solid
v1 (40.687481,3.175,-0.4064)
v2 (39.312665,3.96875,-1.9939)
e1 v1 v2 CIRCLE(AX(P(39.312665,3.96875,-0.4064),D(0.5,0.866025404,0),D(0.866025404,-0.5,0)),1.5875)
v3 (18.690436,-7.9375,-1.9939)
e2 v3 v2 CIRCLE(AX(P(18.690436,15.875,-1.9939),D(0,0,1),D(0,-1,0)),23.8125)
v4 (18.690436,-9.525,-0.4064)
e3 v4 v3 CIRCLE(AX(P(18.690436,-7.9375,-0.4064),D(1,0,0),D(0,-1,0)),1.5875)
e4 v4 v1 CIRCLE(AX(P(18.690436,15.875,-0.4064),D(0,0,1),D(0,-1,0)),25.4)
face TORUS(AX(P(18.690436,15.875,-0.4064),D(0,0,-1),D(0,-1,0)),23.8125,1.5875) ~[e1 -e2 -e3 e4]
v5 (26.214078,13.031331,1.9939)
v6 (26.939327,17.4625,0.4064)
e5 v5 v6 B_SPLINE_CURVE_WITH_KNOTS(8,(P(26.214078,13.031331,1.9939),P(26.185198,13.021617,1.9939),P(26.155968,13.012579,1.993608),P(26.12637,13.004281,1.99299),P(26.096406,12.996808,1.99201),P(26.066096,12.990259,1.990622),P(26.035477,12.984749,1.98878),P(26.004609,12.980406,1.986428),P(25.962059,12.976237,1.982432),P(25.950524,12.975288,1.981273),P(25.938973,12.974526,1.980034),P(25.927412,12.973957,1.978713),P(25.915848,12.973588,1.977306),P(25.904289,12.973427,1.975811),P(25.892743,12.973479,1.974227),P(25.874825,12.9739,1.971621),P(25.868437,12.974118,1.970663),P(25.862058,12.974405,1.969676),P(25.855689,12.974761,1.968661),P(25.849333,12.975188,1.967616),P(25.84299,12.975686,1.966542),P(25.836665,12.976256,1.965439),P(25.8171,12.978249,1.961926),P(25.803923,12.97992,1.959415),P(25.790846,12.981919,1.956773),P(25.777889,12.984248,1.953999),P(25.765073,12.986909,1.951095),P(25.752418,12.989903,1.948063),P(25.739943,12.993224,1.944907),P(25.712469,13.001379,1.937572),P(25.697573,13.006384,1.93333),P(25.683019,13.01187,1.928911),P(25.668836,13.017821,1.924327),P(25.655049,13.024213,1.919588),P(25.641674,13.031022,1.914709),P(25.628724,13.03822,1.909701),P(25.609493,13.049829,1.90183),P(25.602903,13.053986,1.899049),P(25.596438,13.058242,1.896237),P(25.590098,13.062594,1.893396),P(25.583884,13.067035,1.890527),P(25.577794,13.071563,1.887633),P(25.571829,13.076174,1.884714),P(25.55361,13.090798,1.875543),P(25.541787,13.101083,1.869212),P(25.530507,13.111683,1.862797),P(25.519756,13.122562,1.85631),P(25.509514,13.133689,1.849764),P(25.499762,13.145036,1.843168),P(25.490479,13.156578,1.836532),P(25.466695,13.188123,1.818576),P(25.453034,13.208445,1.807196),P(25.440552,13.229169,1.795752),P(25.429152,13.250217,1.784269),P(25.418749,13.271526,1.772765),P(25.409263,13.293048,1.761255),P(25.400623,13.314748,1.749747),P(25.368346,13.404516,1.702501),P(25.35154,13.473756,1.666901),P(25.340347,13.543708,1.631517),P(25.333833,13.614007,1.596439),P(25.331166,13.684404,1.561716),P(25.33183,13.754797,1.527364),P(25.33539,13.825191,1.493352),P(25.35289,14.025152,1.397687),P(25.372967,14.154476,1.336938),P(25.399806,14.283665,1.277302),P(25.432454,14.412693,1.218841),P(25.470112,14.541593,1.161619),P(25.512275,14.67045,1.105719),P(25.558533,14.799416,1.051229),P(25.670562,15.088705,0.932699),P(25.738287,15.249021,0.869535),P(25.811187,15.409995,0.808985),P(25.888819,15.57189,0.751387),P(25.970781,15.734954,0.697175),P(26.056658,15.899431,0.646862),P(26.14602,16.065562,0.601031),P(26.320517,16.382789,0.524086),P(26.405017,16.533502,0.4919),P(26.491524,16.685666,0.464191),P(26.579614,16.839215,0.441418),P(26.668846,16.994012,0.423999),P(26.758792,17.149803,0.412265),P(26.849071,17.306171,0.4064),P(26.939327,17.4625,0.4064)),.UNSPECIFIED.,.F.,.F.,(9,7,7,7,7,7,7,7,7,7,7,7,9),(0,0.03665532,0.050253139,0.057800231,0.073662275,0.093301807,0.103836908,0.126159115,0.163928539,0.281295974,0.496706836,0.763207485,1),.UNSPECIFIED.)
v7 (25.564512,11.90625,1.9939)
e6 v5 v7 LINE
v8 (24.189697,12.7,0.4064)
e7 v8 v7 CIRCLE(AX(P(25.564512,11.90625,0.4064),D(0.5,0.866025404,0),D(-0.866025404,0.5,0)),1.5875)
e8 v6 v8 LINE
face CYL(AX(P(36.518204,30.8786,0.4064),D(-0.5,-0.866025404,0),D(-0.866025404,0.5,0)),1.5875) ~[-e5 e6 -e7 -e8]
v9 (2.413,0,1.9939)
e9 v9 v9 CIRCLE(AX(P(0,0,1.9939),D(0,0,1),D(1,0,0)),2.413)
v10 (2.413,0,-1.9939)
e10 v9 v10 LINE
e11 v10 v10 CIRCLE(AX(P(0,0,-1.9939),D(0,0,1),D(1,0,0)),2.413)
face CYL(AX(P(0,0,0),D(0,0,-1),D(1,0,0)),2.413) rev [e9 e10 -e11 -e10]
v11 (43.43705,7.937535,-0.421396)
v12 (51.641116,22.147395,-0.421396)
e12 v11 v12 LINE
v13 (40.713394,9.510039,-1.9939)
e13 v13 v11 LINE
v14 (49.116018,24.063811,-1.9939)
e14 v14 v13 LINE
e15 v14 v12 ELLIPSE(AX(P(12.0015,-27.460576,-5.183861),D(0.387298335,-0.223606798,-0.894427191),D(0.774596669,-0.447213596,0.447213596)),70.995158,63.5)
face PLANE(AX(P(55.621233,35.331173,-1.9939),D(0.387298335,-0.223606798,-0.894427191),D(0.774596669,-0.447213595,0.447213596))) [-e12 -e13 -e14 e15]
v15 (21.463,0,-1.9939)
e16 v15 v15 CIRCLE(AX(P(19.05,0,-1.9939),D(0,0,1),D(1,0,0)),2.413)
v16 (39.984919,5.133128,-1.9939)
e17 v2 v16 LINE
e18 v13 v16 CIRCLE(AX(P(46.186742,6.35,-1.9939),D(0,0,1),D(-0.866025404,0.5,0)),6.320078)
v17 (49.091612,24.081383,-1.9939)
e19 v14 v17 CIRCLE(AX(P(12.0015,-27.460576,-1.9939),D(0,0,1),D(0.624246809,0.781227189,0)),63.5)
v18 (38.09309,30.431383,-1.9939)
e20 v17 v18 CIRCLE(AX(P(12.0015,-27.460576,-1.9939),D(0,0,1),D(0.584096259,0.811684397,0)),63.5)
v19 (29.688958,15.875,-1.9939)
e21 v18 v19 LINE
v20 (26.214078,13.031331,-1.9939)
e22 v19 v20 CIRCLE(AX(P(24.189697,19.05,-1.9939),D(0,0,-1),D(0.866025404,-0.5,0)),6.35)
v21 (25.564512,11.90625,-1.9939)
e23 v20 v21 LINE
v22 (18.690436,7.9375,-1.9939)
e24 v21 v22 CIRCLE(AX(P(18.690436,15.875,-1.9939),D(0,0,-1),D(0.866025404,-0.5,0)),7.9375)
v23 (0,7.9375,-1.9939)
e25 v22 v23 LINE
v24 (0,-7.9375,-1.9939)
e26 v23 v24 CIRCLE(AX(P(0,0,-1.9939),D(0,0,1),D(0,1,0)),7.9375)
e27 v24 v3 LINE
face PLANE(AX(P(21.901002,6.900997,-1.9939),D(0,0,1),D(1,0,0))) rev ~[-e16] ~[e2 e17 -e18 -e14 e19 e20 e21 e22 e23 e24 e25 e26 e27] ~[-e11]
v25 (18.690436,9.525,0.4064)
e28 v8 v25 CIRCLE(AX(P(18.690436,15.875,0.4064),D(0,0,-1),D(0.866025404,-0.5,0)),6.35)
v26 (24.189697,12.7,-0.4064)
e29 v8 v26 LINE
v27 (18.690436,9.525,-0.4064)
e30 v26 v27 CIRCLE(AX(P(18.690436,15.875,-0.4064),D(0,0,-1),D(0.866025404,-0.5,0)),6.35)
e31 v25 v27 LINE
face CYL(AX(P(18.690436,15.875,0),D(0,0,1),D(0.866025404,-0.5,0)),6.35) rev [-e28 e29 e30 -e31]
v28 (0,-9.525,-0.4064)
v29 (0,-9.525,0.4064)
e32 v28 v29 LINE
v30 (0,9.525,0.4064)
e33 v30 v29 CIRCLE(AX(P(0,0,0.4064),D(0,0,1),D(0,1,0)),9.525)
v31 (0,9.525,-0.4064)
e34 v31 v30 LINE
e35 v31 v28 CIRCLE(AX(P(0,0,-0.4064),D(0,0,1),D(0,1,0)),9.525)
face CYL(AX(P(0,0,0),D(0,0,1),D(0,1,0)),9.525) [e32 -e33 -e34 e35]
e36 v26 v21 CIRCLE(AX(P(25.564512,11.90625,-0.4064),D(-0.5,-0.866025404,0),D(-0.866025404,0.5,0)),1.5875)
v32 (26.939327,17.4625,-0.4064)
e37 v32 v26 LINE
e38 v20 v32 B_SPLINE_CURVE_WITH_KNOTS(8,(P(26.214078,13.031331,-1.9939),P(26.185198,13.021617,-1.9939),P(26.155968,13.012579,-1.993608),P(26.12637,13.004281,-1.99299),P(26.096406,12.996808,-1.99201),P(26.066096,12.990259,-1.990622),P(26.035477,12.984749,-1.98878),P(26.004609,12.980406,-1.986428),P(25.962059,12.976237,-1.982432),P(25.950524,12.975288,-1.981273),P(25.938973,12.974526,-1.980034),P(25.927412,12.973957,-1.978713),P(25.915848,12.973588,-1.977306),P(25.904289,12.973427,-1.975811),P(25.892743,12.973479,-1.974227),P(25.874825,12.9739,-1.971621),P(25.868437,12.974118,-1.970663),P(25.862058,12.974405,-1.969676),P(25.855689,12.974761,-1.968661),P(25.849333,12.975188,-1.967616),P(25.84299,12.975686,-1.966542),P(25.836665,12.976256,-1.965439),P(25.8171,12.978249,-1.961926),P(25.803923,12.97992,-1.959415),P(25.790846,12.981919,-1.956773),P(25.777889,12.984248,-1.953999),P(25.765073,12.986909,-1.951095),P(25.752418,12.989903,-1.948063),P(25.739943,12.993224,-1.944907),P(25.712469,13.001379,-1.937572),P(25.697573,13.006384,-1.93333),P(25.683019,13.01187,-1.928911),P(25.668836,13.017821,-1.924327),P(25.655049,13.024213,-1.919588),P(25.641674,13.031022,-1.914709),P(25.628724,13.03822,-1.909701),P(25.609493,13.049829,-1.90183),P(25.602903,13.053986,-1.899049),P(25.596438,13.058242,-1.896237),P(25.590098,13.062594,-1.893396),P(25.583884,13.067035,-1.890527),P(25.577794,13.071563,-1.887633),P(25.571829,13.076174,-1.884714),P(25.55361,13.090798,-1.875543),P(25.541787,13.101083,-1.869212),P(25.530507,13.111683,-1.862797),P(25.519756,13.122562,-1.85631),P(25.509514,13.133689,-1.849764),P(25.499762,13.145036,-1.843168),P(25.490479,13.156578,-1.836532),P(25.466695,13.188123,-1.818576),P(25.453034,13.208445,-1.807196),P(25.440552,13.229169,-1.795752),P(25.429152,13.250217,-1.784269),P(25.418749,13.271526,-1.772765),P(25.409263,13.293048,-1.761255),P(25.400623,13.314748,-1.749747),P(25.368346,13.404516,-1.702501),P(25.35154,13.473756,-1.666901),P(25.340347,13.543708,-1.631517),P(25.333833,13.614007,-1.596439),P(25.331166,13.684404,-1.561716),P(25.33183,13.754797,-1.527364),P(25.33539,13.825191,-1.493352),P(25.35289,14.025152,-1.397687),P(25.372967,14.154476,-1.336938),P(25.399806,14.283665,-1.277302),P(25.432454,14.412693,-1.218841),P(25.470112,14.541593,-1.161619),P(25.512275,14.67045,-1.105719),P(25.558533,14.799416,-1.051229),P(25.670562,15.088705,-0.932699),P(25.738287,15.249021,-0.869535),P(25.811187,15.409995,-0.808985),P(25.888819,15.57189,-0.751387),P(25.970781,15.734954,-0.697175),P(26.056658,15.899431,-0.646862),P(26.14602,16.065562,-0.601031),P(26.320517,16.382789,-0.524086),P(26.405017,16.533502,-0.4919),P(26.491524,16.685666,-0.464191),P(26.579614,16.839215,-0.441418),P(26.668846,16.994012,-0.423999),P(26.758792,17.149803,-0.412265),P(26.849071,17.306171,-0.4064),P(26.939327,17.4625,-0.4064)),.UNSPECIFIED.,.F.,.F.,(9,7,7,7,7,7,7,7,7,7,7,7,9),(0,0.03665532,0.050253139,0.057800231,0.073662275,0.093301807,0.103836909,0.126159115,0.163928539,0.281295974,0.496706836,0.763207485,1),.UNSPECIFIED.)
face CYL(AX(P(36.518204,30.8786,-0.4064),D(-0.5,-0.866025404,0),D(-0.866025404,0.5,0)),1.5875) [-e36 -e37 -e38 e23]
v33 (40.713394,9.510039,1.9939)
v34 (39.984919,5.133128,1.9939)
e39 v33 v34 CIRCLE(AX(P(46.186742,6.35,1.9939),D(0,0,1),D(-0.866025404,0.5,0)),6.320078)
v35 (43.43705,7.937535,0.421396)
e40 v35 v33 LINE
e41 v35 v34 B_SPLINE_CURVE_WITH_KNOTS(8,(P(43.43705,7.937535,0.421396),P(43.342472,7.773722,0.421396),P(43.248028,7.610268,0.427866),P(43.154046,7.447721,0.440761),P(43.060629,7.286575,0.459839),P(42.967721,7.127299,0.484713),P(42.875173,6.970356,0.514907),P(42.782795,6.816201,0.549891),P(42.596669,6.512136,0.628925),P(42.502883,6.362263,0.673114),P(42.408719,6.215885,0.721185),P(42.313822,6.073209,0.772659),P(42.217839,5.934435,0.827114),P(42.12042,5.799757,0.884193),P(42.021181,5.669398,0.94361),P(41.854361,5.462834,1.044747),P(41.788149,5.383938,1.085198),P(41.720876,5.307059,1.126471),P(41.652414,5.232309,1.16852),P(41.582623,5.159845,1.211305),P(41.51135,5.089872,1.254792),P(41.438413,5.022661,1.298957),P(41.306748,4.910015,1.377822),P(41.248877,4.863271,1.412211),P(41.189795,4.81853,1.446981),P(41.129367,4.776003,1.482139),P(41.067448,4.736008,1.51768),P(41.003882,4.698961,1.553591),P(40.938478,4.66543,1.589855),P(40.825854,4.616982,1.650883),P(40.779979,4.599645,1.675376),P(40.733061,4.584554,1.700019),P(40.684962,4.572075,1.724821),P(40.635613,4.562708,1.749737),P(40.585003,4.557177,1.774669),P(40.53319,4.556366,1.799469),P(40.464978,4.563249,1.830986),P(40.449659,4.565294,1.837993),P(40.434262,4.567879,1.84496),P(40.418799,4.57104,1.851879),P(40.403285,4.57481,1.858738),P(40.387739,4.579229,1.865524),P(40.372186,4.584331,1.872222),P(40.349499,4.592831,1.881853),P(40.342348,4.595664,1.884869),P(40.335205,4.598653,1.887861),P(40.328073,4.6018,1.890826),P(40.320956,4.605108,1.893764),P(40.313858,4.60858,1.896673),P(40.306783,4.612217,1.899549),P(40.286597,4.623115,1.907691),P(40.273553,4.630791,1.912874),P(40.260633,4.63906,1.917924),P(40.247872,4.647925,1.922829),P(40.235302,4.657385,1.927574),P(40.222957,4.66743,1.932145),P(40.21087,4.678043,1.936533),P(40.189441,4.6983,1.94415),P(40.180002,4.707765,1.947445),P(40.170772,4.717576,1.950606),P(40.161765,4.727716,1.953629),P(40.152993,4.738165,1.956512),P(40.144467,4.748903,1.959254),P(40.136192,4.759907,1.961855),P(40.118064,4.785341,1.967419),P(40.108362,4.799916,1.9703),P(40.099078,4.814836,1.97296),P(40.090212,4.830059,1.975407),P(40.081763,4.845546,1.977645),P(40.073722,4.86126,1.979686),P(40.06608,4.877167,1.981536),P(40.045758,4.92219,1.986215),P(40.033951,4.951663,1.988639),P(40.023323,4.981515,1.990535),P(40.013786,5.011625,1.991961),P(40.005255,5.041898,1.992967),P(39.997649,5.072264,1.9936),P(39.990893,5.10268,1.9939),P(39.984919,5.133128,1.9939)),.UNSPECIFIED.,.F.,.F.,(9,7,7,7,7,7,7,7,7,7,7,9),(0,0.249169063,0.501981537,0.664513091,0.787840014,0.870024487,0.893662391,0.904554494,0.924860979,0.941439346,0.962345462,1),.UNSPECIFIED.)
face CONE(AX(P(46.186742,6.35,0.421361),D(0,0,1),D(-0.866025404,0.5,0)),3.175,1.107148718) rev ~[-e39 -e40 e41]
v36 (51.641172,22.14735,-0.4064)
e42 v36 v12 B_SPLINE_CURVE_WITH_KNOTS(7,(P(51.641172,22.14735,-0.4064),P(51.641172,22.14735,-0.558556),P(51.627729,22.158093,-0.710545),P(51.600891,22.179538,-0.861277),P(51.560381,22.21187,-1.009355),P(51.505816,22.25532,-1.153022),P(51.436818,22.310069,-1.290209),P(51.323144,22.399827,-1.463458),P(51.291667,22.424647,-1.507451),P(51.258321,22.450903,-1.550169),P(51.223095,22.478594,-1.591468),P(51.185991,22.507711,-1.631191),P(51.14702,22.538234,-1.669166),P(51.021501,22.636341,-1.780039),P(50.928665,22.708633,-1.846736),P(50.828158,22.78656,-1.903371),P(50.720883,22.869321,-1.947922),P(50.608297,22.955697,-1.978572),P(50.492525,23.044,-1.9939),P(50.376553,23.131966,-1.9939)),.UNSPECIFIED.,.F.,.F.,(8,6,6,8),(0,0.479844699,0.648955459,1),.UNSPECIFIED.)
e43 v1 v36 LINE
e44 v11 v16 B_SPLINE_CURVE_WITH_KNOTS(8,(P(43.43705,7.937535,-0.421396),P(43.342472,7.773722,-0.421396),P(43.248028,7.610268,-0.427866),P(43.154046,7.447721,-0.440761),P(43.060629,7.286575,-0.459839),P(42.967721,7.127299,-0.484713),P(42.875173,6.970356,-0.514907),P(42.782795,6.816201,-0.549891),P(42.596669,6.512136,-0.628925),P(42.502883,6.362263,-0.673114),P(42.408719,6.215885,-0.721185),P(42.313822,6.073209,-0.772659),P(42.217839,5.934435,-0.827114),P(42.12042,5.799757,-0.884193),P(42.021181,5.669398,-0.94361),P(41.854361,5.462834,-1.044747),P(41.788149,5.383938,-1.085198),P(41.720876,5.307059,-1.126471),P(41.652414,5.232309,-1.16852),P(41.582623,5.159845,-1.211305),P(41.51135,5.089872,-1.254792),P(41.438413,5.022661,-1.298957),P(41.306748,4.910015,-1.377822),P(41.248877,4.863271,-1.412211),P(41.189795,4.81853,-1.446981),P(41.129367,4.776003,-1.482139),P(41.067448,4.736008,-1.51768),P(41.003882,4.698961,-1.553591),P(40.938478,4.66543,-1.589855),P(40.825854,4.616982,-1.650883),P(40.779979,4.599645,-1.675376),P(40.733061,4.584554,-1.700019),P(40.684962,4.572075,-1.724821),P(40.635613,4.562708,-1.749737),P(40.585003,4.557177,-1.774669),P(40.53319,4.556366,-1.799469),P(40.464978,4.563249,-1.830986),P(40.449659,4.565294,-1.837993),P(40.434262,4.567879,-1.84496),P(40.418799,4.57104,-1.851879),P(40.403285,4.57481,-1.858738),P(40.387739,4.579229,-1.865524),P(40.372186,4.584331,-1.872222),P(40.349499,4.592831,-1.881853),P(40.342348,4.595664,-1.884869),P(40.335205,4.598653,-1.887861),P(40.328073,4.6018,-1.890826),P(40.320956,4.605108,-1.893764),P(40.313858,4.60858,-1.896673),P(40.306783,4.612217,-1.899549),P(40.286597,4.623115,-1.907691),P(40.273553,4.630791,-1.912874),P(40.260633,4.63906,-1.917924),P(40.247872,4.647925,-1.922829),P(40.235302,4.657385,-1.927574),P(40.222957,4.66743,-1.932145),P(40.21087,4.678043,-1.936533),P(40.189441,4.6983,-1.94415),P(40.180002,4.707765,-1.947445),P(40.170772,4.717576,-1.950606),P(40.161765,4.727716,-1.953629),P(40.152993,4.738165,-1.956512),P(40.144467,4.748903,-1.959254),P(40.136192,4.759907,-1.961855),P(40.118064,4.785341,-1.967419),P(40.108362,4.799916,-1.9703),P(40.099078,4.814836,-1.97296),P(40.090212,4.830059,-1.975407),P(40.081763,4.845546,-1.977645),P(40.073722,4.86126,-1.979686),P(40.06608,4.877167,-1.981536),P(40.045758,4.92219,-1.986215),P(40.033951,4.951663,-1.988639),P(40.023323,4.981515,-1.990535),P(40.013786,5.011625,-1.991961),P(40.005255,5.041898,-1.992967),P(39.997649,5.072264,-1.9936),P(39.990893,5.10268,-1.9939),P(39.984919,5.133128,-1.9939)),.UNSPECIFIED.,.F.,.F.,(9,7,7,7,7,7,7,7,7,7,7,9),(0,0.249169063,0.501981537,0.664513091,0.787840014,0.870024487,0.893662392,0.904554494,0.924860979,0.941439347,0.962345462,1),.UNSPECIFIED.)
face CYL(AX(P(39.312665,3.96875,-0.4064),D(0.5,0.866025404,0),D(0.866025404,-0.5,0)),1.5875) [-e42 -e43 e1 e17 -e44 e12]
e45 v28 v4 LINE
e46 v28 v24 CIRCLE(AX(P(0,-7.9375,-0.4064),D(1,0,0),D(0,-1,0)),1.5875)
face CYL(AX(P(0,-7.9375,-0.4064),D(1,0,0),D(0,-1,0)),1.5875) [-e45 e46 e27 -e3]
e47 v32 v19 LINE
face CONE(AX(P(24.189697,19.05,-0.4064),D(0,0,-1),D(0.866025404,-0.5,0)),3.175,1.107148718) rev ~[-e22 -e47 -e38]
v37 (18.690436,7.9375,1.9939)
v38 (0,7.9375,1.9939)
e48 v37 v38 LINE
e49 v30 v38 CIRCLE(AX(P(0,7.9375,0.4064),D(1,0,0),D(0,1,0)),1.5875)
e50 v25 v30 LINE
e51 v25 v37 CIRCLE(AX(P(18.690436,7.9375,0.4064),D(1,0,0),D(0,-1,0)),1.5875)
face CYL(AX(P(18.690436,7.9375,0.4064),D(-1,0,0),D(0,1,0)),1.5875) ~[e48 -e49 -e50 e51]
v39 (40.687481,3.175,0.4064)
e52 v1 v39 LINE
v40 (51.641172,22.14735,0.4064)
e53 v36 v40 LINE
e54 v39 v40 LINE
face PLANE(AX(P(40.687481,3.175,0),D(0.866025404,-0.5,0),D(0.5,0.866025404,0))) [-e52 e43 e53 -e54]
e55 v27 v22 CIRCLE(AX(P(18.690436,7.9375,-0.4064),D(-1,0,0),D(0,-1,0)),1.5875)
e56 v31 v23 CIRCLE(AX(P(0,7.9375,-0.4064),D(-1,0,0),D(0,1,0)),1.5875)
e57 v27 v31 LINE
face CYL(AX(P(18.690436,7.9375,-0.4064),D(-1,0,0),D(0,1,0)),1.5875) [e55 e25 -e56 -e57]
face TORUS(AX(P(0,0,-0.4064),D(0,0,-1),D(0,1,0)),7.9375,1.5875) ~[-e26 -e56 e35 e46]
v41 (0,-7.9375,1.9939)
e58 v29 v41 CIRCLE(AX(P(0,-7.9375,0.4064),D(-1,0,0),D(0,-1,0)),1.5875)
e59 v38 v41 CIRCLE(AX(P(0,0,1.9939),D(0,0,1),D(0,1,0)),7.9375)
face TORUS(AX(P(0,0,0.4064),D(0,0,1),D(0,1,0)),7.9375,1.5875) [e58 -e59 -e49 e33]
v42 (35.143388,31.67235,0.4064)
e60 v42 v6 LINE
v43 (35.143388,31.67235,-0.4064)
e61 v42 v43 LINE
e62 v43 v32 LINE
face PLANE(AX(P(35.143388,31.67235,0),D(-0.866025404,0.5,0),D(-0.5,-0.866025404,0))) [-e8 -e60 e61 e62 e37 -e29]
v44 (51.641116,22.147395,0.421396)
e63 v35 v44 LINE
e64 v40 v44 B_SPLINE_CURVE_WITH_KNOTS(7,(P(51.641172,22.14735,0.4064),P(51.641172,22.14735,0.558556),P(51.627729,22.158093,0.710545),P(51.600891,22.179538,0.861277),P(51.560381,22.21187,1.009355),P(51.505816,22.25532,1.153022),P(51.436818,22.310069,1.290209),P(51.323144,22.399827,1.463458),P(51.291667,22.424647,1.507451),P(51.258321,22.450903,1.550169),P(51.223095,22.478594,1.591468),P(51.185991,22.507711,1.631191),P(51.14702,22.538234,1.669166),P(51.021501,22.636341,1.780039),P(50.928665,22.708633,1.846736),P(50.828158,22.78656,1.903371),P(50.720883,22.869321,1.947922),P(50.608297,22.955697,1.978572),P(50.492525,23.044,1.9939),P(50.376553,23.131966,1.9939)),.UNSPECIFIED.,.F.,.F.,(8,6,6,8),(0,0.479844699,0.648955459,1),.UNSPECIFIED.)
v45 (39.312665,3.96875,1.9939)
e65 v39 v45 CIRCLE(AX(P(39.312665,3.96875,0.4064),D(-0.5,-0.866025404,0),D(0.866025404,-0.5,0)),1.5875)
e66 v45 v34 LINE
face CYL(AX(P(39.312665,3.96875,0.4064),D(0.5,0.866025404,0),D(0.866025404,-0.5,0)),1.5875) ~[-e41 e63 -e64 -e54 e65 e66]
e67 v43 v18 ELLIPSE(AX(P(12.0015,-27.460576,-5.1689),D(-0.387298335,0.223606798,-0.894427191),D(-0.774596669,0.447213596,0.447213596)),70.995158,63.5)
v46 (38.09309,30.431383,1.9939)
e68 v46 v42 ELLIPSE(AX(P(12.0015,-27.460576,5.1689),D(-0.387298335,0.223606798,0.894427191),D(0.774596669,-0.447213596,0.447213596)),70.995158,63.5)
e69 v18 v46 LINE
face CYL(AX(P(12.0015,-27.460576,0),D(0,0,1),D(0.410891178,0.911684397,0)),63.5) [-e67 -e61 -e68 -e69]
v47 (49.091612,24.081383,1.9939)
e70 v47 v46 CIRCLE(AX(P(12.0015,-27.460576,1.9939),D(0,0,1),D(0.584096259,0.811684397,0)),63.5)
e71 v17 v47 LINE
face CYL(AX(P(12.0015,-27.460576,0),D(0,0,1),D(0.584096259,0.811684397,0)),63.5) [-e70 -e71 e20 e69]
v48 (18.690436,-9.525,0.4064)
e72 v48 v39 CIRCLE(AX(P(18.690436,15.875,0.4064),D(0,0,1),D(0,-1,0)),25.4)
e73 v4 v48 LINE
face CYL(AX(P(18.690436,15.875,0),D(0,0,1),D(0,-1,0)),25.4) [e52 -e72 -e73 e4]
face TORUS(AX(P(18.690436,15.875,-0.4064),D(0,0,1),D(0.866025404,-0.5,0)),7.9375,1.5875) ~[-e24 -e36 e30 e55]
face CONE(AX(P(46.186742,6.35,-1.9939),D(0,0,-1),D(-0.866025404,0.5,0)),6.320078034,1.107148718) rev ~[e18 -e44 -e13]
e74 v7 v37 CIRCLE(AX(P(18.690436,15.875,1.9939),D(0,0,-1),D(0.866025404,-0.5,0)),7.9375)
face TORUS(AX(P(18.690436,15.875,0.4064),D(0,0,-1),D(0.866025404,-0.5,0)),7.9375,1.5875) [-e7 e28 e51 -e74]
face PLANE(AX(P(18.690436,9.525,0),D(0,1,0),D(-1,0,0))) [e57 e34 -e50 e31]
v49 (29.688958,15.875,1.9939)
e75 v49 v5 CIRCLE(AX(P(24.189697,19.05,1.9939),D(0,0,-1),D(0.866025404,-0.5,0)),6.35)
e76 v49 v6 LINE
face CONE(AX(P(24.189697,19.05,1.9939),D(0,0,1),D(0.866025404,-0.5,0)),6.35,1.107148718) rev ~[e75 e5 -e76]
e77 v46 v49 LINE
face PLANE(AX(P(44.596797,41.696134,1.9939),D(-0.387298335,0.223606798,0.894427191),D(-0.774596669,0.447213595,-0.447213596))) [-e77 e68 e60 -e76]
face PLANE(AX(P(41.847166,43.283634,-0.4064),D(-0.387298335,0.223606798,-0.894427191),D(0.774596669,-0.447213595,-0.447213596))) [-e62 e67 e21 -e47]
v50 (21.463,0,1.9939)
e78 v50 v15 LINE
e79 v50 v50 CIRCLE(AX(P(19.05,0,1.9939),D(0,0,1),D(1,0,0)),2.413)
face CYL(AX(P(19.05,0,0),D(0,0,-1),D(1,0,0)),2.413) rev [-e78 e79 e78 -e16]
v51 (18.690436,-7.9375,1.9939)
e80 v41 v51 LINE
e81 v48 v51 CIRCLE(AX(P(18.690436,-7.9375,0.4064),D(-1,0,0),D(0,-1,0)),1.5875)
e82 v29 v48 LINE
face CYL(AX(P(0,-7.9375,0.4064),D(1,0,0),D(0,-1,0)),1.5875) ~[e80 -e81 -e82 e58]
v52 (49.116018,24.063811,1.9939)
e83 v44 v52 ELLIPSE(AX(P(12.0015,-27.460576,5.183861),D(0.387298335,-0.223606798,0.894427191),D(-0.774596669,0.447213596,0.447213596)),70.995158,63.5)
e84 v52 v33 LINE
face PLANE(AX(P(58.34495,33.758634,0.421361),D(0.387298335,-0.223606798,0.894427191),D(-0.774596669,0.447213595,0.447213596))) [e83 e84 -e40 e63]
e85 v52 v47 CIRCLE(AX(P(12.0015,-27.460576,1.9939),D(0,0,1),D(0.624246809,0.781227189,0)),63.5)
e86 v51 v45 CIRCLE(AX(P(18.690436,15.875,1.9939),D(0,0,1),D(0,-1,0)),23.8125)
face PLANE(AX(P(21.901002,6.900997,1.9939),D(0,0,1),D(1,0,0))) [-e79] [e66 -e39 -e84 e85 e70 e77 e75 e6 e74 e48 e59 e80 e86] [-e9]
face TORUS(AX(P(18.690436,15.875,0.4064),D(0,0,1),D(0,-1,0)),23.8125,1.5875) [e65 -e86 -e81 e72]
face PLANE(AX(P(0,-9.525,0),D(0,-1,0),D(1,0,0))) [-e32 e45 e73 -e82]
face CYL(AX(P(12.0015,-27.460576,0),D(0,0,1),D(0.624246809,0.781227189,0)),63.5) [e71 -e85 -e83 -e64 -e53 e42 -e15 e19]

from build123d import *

# Parameters (mm, degrees)
F0_R     = 2.413
F1_DEPTH = 1.9939
F4_R     = 1.5875


with BuildPart() as f1:
    # F0 (on Top) → F1 (new body, symmetric)
    with BuildSketch(Plane.XY):
        with BuildLine():
            Line((18.6904355234, 9.525), (0, 9.525))
            ThreePointArc((0, 9.525), (-9.525, 0), (0, -9.525))
            Line((0, -9.525), (18.6904355234, -9.525))
            ThreePointArc((18.6904355234, -9.525), (31.3904355234, -6.1220452561), (40.6874807795, 3.175))
            ThreePointArc((40.6874807795, 3.175), (39.8367420935, 6.35), (40.6874807795, 9.525))
            Line((40.6874807795, 9.525), (49.0916124422, 24.0813830332))
            ThreePointArc((49.0916124422, 24.0813830332), (43.7515, 27.5320369653), (38.0930898141, 30.4313830332))
            Line((38.0930898141, 30.4313830332), (29.6889581514, 15.875))
            ThreePointArc((29.6889581514, 15.875), (27.3646968374, 13.550738686), (24.1896968374, 12.7))
            ThreePointArc((24.1896968374, 12.7), (21.8654355234, 10.375738686), (18.6904355234, 9.525))
        make_face()
        Circle(F0_R, mode=Mode.SUBTRACT)
        with Locations((19.05, 0)):
            Circle(F0_R, mode=Mode.SUBTRACT)
        with BuildLine():
            Line((35.143388423, 31.6723503567), (24.1896968374, 12.7))
            ThreePointArc((24.1896968374, 12.7), (27.3646968374, 13.550738686), (29.6889581514, 15.875))
            Line((29.6889581514, 15.875), (38.0930898141, 30.4313830332))
            ThreePointArc((38.0930898141, 30.4313830332), (36.6260577586, 31.0704511113), (35.143388423, 31.6723503567))
        make_face()
        with BuildLine():
            ThreePointArc((40.6874807795, 9.525), (39.8367420935, 6.35), (40.6874807795, 3.175))
            Line((40.6874807795, 3.175), (51.6411723651, 22.1473503567))
            ThreePointArc((51.6411723651, 22.1473503567), (50.3785776603, 23.130430044), (49.0916124422, 24.0813830332))
            Line((49.0916124422, 24.0813830332), (40.6874807795, 9.525))
        make_face()
    extrude(amount=F1_DEPTH, both=True)

    # F4
    f4_edges = [f1.edges().sort_by_distance(p)[0] for p in [
        (31.390436, -6.122045, 1.9939),
        (31.390436, -6.122045, -1.9939),
    ]]
    fillet(f4_edges, radius=F4_R)

    # F5: sweep along a path in F0
    with BuildLine(Plane.XY) as f5_path:
        Line((44.5967970303, 41.6961343692), (29.6889581514, 15.875))
        ThreePointArc((29.6889581514, 15.875), (27.3646968374, 13.550738686), (24.1896968374, 12.7))
    # F3 (on line) → F5 (sweep, cut)
    with BuildSketch(Plane(origin=(22.8595967149, 39.5939829508, 0), x_dir=(-0.8660254038, 0.5, 0), z_dir=(0.5, 0.8660254038, 0))):
        Polygon((-17.773891971, 1.9939), (-14.598891971, 0.4064), (-14.598891971, 1.9939), align=None)
        Polygon((-14.598891971, -0.4064), (-17.773891971, -1.9939), (-14.598891971, -1.9939), align=None)
    sweep(path=f5_path.line, mode=Mode.SUBTRACT)

    # F6: sweep along a path in F0
    with BuildLine(Plane.XY) as f6_path:
        Line((55.5953196584, 35.3461343692), (40.6874807795, 9.525))
        ThreePointArc((40.6874807795, 9.525), (39.8367420935, 6.35), (40.6874807795, 3.175))
    # F3 (on line) → F6 (sweep, cut)
    with BuildSketch(Plane(origin=(22.8595967149, 39.5939829508, 0), x_dir=(-0.8660254038, 0.5, 0), z_dir=(0.5, 0.8660254038, 0))):
        Polygon((-33.648891971, 1.9939), (-33.648891971, 0.4213609829), (-30.5038139368, 1.9939), align=None)
        Polygon((-33.648891971, -0.4213609829), (-33.648891971, -1.9939), (-30.5038139368, -1.9939), align=None)
    sweep(path=f6_path.line, mode=Mode.SUBTRACT)


solid = f1.part
